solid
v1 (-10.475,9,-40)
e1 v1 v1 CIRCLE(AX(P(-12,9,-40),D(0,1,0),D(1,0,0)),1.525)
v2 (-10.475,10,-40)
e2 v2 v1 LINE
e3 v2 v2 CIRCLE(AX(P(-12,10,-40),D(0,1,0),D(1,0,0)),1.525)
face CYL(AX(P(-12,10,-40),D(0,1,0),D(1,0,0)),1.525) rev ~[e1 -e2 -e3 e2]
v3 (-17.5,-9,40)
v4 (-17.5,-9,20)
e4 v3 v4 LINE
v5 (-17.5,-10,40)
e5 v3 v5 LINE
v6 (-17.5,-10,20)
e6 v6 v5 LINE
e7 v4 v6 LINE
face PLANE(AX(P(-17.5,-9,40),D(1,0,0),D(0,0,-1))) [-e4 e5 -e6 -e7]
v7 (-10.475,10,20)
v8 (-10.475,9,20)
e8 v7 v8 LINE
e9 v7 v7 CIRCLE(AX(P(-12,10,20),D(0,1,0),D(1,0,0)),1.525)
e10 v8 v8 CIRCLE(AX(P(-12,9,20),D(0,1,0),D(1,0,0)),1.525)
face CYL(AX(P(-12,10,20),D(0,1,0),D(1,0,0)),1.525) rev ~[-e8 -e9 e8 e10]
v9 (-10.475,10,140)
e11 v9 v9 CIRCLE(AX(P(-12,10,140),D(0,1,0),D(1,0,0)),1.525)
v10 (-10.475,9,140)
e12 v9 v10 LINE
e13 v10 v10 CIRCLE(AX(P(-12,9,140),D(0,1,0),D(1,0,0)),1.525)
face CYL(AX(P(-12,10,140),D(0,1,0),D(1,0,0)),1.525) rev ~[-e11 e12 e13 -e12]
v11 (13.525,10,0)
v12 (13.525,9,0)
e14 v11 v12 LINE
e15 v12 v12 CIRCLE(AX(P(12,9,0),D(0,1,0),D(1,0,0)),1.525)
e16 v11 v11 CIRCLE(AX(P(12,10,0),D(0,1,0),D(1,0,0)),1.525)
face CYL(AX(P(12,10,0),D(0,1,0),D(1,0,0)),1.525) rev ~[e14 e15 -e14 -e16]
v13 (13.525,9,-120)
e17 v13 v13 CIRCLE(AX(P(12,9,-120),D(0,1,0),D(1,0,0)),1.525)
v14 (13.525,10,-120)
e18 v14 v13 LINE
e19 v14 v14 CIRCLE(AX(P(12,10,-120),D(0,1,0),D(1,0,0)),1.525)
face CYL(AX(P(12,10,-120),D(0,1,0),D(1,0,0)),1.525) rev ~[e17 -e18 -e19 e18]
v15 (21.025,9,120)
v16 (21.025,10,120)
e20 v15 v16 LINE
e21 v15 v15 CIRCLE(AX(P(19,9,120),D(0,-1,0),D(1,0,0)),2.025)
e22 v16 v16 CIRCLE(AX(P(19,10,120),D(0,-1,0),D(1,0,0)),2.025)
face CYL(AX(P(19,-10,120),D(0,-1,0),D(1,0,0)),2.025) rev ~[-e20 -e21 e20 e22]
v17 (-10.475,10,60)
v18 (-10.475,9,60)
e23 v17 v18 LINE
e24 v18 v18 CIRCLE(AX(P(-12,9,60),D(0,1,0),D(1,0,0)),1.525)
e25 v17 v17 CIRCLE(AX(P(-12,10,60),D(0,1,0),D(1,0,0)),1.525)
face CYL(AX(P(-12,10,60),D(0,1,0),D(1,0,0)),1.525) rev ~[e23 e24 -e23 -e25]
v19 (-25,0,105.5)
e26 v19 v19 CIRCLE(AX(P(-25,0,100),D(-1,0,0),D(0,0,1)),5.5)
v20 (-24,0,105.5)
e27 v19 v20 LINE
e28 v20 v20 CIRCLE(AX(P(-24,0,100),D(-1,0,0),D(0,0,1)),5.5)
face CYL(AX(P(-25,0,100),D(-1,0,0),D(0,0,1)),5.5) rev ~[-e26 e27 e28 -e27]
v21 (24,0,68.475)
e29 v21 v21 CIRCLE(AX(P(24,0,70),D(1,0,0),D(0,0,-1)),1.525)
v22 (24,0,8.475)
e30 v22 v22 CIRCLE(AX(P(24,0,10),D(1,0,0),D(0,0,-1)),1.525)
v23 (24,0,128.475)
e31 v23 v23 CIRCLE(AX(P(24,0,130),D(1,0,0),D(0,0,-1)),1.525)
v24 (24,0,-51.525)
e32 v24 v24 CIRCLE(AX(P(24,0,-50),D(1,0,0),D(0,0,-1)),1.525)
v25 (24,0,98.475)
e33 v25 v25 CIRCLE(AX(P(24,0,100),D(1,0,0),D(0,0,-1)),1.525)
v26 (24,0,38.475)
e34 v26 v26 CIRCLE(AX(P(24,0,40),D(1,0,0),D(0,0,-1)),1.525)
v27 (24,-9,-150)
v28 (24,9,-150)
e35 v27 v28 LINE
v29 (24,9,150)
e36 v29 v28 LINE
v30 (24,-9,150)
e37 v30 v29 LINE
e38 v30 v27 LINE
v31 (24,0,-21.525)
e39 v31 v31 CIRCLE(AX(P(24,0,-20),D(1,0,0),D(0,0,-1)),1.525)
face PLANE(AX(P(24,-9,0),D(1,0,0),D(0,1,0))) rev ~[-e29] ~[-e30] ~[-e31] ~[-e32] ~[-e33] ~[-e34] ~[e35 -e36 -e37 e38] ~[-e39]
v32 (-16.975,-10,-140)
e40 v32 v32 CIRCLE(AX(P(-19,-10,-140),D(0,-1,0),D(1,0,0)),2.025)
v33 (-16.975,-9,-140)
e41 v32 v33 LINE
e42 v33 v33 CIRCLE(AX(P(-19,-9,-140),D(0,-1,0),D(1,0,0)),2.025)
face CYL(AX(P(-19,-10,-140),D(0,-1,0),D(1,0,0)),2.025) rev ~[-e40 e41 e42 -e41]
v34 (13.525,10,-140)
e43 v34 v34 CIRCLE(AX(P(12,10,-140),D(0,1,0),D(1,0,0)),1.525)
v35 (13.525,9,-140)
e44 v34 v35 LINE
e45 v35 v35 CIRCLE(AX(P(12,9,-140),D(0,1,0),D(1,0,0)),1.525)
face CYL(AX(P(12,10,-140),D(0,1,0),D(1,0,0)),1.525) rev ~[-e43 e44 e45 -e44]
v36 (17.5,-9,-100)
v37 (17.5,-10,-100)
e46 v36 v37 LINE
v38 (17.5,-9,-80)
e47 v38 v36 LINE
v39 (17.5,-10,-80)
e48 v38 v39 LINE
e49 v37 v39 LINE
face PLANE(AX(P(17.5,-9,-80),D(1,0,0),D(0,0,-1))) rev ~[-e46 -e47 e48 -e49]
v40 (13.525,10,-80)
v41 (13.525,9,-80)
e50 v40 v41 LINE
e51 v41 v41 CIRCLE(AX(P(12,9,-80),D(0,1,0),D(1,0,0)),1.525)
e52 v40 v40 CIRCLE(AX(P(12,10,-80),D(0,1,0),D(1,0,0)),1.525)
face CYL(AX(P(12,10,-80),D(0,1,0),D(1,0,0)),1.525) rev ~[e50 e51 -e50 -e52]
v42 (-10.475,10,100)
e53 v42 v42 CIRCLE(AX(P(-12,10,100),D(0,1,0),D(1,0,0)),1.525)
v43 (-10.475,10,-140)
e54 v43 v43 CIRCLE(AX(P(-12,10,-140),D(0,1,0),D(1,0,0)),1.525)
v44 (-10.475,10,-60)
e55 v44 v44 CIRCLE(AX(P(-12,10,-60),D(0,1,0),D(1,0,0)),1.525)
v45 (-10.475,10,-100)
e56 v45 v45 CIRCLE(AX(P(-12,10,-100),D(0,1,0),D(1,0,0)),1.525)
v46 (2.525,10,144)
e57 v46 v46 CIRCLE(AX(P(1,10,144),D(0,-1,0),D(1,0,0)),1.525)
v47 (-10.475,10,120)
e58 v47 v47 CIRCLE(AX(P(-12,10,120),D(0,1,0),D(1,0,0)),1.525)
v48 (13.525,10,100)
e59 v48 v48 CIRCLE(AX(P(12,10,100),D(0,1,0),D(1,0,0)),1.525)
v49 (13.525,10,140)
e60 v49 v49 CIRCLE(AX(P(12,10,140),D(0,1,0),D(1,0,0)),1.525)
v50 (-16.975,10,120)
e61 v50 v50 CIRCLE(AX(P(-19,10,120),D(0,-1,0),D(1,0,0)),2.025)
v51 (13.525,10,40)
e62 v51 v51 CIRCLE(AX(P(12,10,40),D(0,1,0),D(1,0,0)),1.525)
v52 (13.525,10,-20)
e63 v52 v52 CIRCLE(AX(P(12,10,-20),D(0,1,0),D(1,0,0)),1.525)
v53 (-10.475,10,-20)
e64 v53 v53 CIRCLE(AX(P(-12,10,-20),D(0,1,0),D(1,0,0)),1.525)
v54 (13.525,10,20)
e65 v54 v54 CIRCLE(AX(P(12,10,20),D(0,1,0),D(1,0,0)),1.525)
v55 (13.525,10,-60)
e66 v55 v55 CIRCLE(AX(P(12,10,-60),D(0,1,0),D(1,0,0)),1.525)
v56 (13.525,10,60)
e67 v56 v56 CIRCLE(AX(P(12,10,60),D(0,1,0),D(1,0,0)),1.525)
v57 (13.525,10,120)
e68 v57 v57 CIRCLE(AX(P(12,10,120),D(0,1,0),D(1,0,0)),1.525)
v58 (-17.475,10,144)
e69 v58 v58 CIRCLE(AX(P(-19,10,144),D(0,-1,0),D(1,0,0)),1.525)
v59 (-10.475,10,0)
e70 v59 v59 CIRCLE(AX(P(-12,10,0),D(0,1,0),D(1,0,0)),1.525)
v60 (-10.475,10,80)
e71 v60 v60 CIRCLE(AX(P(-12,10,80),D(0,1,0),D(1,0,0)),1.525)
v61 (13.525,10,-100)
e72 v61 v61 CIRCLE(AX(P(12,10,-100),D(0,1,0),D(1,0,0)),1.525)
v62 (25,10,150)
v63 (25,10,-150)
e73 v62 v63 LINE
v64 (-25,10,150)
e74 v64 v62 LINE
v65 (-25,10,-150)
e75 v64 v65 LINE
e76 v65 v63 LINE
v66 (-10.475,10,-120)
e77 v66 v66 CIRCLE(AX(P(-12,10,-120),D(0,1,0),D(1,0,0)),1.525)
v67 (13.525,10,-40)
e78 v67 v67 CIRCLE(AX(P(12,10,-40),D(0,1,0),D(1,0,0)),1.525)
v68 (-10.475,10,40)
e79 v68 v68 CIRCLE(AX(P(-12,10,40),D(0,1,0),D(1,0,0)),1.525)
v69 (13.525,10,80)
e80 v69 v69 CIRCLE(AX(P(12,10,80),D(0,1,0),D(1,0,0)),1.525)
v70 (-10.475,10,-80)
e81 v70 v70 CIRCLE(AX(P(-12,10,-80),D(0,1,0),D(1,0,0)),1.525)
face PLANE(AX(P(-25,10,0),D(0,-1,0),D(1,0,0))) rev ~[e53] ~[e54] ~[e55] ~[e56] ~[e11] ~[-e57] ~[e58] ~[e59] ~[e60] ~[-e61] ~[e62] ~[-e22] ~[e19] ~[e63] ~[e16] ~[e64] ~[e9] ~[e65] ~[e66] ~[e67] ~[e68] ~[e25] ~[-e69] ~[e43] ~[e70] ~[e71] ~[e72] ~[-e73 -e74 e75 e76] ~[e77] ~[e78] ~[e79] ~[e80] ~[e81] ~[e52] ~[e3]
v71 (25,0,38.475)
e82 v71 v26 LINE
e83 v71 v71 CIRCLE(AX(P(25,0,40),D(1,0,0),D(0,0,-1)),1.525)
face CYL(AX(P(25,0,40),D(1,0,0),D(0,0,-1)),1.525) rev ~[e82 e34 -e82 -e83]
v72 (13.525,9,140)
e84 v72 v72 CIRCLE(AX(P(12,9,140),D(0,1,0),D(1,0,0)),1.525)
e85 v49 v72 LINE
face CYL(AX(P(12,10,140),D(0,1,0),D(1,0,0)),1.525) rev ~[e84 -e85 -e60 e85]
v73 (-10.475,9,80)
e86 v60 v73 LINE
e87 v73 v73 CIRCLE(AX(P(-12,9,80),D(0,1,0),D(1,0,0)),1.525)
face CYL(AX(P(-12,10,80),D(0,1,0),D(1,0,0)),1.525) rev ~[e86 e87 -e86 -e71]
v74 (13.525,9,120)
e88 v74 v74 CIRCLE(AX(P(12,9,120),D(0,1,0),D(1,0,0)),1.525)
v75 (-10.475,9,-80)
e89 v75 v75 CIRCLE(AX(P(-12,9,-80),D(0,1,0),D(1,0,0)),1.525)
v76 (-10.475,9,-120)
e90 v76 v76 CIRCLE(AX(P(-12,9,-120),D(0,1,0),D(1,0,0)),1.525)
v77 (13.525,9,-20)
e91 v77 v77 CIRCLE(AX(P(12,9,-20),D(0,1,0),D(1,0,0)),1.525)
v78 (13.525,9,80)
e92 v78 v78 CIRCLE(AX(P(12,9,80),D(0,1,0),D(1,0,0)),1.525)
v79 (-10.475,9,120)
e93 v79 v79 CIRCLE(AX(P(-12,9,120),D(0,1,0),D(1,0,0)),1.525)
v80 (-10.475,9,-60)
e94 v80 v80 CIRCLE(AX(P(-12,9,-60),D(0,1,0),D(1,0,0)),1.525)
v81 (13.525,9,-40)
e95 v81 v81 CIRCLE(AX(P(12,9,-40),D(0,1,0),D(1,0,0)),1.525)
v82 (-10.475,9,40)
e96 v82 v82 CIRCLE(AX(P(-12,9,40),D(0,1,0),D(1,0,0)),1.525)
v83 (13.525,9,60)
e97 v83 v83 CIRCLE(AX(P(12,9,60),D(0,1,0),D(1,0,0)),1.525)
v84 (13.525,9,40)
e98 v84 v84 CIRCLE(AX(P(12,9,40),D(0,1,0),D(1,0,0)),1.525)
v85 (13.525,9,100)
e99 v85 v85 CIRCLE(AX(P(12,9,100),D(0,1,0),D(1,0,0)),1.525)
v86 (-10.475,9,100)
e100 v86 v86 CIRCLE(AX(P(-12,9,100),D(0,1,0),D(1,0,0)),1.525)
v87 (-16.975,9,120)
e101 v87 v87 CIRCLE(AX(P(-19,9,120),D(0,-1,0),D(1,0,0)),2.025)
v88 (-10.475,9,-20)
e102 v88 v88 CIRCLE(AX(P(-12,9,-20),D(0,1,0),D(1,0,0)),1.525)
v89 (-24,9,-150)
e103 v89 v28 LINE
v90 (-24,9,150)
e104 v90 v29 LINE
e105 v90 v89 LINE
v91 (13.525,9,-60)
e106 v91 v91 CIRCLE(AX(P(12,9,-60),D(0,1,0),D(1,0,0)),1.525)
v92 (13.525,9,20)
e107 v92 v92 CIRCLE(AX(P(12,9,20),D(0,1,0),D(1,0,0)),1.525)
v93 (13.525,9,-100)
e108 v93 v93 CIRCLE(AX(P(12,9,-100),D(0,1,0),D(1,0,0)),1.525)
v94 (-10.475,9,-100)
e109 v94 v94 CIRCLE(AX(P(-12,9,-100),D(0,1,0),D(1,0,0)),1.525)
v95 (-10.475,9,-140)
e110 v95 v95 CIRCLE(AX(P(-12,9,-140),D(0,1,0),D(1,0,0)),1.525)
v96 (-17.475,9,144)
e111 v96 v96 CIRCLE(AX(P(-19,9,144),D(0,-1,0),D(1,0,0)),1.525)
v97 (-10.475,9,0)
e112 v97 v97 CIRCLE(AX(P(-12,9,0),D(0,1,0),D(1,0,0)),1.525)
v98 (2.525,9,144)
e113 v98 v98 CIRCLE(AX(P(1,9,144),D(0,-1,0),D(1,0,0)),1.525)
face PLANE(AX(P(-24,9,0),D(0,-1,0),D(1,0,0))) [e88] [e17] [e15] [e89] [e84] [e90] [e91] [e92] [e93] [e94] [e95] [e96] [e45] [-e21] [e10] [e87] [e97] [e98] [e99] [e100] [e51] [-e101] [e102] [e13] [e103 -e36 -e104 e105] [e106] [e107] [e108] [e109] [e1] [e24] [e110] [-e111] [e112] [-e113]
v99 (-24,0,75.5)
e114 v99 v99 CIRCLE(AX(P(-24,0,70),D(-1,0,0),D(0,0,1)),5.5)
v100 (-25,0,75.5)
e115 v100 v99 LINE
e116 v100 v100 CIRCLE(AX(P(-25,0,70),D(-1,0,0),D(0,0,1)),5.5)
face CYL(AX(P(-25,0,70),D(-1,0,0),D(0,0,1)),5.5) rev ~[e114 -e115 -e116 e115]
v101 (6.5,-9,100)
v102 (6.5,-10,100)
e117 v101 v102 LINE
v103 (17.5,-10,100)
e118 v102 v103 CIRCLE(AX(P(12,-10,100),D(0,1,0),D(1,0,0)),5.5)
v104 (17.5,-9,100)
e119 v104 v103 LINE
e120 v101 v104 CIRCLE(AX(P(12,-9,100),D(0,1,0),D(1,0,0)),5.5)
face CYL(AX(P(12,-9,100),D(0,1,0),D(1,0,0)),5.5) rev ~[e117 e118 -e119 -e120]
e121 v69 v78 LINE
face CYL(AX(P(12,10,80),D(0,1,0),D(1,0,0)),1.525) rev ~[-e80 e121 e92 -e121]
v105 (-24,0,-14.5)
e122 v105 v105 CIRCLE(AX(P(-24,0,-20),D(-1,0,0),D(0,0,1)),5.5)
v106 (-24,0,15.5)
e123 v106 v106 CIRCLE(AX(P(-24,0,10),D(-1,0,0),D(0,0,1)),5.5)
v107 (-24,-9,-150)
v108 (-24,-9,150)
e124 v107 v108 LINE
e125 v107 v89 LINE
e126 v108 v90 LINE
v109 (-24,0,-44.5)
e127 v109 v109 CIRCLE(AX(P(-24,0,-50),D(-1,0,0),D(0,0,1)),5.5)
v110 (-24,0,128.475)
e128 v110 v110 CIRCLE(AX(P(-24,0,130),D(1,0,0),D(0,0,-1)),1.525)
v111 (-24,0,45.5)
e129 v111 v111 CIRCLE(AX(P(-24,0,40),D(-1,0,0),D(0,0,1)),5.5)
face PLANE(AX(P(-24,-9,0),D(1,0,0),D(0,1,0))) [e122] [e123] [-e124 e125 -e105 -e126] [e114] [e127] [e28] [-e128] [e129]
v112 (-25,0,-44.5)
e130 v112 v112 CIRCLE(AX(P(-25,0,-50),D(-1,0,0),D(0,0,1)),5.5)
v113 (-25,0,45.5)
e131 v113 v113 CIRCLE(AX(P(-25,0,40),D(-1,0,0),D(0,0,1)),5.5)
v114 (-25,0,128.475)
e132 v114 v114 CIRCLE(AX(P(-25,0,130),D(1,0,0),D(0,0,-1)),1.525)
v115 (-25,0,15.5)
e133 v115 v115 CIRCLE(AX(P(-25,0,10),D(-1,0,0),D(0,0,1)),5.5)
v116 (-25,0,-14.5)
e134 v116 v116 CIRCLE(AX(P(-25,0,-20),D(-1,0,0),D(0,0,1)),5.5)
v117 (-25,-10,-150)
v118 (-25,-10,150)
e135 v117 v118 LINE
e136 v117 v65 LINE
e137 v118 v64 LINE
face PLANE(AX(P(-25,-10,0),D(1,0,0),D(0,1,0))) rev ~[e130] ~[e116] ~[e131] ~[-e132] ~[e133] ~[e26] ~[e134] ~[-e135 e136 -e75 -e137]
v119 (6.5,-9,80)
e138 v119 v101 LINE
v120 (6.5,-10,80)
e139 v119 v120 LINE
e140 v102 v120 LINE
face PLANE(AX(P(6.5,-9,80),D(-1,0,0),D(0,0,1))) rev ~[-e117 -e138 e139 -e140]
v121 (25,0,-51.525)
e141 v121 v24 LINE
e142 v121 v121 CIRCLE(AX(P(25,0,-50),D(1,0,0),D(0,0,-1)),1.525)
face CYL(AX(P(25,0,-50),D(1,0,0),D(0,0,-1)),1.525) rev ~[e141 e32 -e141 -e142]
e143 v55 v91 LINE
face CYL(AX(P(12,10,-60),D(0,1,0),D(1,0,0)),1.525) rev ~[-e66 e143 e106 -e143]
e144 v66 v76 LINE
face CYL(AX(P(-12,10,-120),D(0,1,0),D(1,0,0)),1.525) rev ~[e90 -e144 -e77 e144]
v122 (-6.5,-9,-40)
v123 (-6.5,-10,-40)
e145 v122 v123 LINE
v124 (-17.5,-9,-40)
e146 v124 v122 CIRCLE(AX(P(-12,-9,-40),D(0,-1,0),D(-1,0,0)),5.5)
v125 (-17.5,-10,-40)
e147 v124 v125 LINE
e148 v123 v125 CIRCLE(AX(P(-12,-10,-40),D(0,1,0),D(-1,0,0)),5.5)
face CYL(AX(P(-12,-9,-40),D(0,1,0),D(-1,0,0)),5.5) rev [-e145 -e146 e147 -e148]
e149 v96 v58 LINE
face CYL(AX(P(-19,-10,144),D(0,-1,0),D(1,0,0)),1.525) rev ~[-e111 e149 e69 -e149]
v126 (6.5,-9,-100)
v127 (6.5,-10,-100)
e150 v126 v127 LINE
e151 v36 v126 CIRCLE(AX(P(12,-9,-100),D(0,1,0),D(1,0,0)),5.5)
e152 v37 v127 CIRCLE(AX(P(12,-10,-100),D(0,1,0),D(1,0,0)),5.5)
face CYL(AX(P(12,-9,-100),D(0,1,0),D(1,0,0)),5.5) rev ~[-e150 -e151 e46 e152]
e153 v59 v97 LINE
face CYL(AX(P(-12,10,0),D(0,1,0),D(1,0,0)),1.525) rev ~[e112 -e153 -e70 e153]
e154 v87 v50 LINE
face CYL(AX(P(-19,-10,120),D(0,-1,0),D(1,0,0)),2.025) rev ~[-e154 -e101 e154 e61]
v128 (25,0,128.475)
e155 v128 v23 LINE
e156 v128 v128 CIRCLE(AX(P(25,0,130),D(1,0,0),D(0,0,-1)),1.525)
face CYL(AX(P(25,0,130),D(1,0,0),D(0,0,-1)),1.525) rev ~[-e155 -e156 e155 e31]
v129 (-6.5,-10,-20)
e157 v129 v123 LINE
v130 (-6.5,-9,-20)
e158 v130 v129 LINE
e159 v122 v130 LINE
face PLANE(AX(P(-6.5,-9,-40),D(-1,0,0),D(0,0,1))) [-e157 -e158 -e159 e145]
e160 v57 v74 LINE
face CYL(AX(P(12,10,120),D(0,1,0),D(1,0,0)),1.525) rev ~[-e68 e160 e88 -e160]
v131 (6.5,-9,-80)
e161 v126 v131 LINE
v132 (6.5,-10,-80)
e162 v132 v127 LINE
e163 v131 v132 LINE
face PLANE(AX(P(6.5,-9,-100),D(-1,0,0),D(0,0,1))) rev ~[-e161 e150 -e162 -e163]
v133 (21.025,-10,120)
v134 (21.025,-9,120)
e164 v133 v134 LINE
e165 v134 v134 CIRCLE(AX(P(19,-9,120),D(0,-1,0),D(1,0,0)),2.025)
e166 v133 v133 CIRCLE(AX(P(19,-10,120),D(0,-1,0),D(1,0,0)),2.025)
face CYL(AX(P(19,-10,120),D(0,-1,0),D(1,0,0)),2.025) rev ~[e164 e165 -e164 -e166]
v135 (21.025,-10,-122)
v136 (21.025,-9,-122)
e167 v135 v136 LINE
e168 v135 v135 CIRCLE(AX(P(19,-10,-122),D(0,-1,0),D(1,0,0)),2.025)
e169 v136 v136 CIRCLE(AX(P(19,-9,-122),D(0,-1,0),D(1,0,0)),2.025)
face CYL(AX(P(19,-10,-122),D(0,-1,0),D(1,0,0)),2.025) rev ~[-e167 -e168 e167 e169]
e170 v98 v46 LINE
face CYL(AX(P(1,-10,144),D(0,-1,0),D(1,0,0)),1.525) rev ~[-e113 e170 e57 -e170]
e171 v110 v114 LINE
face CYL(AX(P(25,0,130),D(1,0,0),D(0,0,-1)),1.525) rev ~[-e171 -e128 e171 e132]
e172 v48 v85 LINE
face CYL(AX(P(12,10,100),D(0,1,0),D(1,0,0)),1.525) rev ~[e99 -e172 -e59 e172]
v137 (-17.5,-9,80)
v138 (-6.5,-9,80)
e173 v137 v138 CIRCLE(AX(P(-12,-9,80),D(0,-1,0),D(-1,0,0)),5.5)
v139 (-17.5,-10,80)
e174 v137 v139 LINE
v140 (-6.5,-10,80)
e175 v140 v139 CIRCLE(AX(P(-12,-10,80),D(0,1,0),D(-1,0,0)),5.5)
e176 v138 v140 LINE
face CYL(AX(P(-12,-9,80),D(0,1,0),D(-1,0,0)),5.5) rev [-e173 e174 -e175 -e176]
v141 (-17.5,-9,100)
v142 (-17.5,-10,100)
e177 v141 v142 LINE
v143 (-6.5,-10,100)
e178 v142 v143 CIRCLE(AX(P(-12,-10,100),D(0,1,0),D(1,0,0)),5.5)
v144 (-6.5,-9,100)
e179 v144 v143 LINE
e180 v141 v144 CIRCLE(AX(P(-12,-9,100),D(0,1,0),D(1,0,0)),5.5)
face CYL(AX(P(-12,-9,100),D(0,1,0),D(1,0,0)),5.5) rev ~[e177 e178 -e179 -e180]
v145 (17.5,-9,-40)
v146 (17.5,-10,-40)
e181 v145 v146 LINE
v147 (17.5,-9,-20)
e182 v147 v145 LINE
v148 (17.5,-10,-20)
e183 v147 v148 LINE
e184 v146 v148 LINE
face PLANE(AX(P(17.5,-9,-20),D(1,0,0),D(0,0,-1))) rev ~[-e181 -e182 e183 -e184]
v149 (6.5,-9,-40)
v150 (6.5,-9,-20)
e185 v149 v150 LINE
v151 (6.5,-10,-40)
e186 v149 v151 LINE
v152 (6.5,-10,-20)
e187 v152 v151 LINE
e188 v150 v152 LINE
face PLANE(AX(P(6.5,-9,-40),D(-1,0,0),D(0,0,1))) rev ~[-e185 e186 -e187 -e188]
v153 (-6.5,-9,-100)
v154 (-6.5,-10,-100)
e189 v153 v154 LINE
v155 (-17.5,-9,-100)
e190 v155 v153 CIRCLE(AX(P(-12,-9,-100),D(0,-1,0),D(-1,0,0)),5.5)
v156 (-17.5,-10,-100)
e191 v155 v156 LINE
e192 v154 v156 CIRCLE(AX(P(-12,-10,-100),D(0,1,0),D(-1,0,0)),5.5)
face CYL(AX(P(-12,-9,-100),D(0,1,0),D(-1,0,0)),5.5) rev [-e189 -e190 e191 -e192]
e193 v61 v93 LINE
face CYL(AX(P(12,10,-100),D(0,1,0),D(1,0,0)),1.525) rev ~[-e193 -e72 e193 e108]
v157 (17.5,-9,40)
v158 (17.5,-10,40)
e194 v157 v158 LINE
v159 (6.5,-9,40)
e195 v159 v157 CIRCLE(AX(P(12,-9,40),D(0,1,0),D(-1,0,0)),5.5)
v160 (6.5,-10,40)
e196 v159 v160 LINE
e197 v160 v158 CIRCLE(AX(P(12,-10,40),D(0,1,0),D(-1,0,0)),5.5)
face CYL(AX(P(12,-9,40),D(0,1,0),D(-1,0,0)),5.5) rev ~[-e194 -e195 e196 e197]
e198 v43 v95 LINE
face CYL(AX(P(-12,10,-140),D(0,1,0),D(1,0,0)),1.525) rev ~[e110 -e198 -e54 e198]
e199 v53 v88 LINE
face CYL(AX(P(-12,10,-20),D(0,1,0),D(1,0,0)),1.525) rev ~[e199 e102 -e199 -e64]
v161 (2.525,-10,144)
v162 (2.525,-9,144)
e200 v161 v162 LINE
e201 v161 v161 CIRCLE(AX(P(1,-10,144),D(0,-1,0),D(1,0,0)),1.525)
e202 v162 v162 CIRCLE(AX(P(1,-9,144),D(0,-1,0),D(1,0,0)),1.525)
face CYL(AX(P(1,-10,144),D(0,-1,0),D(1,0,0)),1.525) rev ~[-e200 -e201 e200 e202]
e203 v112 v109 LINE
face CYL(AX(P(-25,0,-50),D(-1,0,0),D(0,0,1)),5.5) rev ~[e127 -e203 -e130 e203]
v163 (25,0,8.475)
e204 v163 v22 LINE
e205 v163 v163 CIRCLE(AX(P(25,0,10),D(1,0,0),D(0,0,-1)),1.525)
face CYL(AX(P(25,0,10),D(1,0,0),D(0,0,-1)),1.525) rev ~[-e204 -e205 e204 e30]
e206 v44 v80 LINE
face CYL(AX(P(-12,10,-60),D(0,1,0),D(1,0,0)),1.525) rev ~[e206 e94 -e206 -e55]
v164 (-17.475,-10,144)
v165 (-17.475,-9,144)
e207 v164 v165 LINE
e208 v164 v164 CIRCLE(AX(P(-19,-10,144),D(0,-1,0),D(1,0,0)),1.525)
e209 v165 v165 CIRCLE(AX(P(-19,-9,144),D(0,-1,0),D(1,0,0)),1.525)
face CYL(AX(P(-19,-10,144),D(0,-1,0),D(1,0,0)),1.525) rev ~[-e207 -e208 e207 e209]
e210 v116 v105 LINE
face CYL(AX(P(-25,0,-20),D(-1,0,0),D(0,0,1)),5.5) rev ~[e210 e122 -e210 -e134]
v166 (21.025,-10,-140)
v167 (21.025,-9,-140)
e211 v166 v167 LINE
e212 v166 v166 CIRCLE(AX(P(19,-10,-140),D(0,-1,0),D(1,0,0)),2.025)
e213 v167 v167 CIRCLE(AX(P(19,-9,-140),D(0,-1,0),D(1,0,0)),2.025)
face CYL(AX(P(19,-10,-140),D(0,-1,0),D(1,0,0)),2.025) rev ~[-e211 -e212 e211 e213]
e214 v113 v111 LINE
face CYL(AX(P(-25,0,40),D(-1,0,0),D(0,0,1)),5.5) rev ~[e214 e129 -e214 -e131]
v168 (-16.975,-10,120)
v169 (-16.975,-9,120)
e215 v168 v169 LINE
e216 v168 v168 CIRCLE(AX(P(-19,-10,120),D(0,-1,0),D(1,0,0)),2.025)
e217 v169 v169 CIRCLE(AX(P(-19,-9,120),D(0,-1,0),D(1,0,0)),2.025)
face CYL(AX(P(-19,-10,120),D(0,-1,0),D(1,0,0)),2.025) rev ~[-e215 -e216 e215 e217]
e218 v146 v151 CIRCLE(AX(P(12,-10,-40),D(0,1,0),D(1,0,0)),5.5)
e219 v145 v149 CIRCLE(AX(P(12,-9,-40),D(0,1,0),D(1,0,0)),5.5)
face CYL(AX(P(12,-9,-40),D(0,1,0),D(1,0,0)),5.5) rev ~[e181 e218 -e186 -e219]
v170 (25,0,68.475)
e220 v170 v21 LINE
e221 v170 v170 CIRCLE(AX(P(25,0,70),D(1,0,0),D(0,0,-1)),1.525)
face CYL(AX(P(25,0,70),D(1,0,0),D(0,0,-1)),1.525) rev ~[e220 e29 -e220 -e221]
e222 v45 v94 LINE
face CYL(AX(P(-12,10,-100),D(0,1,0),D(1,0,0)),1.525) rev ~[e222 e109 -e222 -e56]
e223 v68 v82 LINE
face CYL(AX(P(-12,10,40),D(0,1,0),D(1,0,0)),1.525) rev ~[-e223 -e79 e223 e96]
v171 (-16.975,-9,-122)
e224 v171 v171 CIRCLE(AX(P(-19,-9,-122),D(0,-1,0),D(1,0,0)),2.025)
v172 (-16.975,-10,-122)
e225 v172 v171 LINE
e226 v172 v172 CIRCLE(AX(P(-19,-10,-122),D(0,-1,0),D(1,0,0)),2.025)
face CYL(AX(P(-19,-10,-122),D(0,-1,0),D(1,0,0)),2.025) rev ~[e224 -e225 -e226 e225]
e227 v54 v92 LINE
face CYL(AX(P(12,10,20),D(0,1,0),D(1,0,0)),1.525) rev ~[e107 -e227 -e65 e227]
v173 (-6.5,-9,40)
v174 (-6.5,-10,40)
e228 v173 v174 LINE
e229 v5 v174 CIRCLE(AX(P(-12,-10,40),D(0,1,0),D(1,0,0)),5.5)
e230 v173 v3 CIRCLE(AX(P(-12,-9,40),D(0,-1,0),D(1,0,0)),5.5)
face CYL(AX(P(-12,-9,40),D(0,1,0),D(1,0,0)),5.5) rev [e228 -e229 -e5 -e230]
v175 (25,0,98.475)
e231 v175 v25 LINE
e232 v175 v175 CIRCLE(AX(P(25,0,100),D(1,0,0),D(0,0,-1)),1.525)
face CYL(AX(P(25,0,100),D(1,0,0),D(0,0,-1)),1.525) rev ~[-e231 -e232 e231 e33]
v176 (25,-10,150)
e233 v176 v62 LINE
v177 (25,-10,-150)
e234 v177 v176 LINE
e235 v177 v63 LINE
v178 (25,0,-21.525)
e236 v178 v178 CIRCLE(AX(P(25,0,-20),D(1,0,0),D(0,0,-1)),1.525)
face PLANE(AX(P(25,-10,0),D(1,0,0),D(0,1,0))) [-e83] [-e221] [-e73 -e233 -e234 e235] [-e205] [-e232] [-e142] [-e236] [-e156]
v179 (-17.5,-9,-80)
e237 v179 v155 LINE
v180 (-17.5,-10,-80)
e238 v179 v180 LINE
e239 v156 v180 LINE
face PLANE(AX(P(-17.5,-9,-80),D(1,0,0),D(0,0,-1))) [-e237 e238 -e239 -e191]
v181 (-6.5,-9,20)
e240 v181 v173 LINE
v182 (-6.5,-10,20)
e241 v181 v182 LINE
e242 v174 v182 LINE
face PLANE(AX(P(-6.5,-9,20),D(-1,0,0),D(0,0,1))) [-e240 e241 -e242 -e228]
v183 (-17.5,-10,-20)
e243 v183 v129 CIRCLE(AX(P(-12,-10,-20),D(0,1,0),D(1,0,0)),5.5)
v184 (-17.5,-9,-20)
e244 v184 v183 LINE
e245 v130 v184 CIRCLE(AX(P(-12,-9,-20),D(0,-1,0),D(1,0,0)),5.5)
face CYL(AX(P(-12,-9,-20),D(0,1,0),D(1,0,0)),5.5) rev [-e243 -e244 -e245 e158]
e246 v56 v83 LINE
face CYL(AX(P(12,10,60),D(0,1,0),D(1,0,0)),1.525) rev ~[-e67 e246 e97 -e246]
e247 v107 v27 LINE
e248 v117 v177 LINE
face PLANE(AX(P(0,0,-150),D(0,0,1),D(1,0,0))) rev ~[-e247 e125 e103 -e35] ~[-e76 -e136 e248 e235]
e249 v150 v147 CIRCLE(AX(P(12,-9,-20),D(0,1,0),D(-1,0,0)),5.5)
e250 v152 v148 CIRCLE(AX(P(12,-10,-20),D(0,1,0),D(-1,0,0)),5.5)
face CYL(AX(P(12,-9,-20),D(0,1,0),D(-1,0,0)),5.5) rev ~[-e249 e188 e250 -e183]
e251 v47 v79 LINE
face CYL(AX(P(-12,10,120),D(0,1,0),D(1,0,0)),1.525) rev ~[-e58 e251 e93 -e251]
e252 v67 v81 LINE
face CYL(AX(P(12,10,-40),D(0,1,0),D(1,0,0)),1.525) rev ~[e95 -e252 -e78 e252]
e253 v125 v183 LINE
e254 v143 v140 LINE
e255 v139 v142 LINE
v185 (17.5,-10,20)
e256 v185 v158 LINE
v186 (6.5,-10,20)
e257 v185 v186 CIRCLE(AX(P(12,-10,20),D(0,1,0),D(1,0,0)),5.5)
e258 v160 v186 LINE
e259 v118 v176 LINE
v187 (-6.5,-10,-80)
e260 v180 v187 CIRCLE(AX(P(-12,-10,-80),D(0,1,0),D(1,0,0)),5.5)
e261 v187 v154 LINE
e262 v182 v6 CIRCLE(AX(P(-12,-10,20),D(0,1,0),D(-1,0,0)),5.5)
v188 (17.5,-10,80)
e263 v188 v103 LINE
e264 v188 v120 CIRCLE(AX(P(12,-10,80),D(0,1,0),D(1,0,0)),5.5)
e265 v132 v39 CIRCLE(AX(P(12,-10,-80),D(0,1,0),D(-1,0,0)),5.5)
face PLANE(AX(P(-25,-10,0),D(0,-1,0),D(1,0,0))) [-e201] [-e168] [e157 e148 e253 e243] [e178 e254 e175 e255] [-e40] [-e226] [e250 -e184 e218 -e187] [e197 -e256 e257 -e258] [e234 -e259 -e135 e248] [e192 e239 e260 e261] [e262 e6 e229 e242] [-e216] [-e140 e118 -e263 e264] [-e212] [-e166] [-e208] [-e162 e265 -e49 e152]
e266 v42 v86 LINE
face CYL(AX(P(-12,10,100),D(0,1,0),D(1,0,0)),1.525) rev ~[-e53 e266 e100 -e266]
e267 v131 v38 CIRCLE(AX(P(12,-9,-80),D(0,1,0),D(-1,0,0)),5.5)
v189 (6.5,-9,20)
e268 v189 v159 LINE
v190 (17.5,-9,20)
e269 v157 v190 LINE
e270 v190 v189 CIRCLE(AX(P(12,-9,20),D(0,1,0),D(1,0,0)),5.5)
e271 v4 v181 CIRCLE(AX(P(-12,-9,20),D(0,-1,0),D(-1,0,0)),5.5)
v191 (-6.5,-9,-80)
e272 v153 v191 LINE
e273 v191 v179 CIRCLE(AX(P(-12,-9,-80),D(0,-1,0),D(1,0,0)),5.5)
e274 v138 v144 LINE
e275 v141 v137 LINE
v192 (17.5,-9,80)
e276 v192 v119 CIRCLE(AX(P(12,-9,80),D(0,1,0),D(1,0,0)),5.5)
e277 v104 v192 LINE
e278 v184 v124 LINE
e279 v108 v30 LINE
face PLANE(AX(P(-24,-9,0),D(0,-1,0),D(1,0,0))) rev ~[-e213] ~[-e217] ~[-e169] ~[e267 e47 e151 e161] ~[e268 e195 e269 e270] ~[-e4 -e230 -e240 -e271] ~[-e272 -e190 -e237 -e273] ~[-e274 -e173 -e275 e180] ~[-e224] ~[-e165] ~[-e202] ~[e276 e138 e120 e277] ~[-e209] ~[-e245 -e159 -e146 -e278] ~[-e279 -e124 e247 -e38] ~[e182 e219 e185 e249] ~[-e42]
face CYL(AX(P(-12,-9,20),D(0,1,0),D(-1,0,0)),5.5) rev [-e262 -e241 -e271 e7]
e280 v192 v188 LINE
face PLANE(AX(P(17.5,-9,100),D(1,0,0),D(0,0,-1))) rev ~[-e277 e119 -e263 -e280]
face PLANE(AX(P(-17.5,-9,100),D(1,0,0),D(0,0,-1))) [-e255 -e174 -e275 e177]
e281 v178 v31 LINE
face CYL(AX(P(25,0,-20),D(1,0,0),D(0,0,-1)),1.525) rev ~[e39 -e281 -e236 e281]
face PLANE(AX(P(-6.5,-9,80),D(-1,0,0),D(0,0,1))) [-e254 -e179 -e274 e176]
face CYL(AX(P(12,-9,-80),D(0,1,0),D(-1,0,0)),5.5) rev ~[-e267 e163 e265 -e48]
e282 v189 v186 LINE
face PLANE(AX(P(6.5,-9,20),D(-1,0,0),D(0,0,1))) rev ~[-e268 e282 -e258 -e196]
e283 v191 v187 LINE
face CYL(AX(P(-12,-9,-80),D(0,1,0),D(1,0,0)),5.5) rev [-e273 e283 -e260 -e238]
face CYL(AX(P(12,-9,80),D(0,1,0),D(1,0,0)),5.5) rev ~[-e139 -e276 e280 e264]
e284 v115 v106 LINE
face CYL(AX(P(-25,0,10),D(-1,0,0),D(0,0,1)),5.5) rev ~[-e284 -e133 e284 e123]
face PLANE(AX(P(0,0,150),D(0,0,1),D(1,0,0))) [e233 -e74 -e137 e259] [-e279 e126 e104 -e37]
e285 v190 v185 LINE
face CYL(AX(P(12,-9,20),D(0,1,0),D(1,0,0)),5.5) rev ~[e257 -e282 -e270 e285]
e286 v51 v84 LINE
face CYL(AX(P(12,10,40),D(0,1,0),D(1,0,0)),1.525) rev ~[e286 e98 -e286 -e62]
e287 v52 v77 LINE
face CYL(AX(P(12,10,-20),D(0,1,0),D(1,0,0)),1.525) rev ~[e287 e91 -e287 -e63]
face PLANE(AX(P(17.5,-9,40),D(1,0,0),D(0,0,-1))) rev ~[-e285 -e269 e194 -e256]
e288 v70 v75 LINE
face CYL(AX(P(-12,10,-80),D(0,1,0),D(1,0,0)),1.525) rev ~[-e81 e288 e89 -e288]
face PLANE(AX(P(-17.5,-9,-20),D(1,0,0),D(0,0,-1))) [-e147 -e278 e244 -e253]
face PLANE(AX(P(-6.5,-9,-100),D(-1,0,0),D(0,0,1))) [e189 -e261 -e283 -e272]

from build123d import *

# Parameters (mm, degrees)
SKETCH_1_W             = 50
SKETCH_1_H             = 20
SKETCH_1_W_2           = 48
SKETCH_1_H_2           = 18
EXTRUDE_1_DEPTH        = 150
SKETCH_2_R             = 1.525
CUT_EXTRUDE_1_DEPTH    = 10
PATTERN_LINEAR_1_COUNT = 15
PATTERN_LINEAR_1_PITCH = 20
SKETCH_3_R             = 1.525
CUT_EXTRUDE_2_DEPTH    = 100
SKETCH_4_R             = 1.525
CUT_EXTRUDE_3_DEPTH    = 100
SKETCH_5_R             = 2.025
CUT_EXTRUDE_4_DEPTH    = 39
SKETCH_7_R             = 5.5
CUT_EXTRUDE_6_DEPTH    = 10
CUT_EXTRUDE_7_DEPTH    = 10
PATTERN_LINEAR_2_COUNT = 4
PATTERN_LINEAR_2_PITCH = 60
SKETCH_9_R             = 5.5
CUT_EXTRUDE_8_DEPTH    = 10
PATTERN_LINEAR_3_COUNT = 6
PATTERN_LINEAR_3_PITCH = 30
SKETCH_10_R            = 2.025
CUT_EXTRUDE_9_DEPTH    = 10
SKETCH_11_R            = 2.025
CUT_EXTRUDE_10_DEPTH   = 8


with BuildPart() as part:
    # 草图1 → 凸台-拉伸1 (new body, symmetric)
    with BuildSketch(Plane.XY):
        Rectangle(SKETCH_1_W, SKETCH_1_H)
        Rectangle(SKETCH_1_W_2, SKETCH_1_H_2, mode=Mode.SUBTRACT)
    extrude(amount=EXTRUDE_1_DEPTH, both=True)

    # 草图2 → 切除-拉伸1 (cut)
    with BuildSketch(Plane(origin=(0, 10, 0), x_dir=(1, 0, 0), z_dir=(0, 1, 0))):
        with Locations((-12, -140)):
            Circle(SKETCH_2_R)
        with Locations((12, -140)):
            Circle(SKETCH_2_R)
    cut_extrude_1 = extrude(amount=-CUT_EXTRUDE_1_DEPTH, mode=Mode.SUBTRACT)

    # 阵列(线性)1: 切除-拉伸1 ×15
    with Locations(*[(0, 0, -i * PATTERN_LINEAR_1_PITCH) for i in range(1, PATTERN_LINEAR_1_COUNT)]):
        add(cut_extrude_1, mode=Mode.SUBTRACT)

    # 草图3 → 切除-拉伸2 (cut)
    with BuildSketch(Plane(origin=(25, 0, 0), x_dir=(0, 0, -1), z_dir=(1, 0, 0))):
        with Locations((50, 0)):
            Circle(SKETCH_3_R)
        with Locations((20, 0)):
            Circle(SKETCH_3_R)
        with Locations((-10, 0)):
            Circle(SKETCH_3_R)
        with Locations((-40, 0)):
            Circle(SKETCH_3_R)
        with Locations((-70, 0)):
            Circle(SKETCH_3_R)
        with Locations((-100, 0)):
            Circle(SKETCH_3_R)
        with Locations((-130, 0)):
            Circle(SKETCH_3_R)
    extrude(amount=-CUT_EXTRUDE_2_DEPTH, mode=Mode.SUBTRACT)

    # 草图4 → 切除-拉伸3 (cut)
    with BuildSketch(Plane.XZ.offset(10)):
        with Locations((-19, 144)):
            Circle(SKETCH_4_R)
        with Locations((1, 144)):
            Circle(SKETCH_4_R)
    extrude(amount=-CUT_EXTRUDE_3_DEPTH, mode=Mode.SUBTRACT)

    # 草图5 → 切除-拉伸4 (cut)
    with BuildSketch(Plane.XZ.offset(10)):
        with Locations((19, 120)):
            Circle(SKETCH_5_R)
        with Locations((-19, 120)):
            Circle(SKETCH_5_R)
    extrude(amount=-CUT_EXTRUDE_4_DEPTH, mode=Mode.SUBTRACT)

    # 草图7 → 切除-拉伸6 (cut)
    with BuildSketch(Plane(origin=(0, -9, 0), x_dir=(1, 0, 0), z_dir=(0, 1, 0))):
        with Locations((-12, -100)):
            Circle(SKETCH_7_R)
        with Locations((12, -100)):
            Circle(SKETCH_7_R)
    extrude(amount=-CUT_EXTRUDE_6_DEPTH, mode=Mode.SUBTRACT)

    # 草图6 → 切除-拉伸7 (cut)
    with BuildSketch(Plane(origin=(0, -9, 0), x_dir=(1, 0, 0), z_dir=(0, 1, 0))):
        with BuildLine():
            Line((-6.5, 100), (-6.5, 80))
            ThreePointArc((-6.5, 80), (-12, 74.5), (-17.5, 80))
            Line((-17.5, 80), (-17.5, 100))
            ThreePointArc((-17.5, 100), (-12, 105.5), (-6.5, 100))
        make_face()
        with BuildLine():
            Line((6.5, 100), (6.5, 80))
            ThreePointArc((6.5, 80), (12, 74.5), (17.5, 80))
            Line((17.5, 80), (17.5, 100))
            ThreePointArc((17.5, 100), (12, 105.5), (6.5, 100))
        make_face()
    cut_extrude_7 = extrude(amount=-CUT_EXTRUDE_7_DEPTH, mode=Mode.SUBTRACT)

    # 阵列(线性)2: 切除-拉伸7 ×4
    with Locations(*[(0, 0, i * PATTERN_LINEAR_2_PITCH) for i in range(1, PATTERN_LINEAR_2_COUNT)]):
        add(cut_extrude_7, mode=Mode.SUBTRACT)

    # 草图9 → 切除-拉伸8 (cut)
    with BuildSketch(Plane.ZY.offset(25)):
        with Locations((-50, 0)):
            Circle(SKETCH_9_R)
    cut_extrude_8 = extrude(amount=-CUT_EXTRUDE_8_DEPTH, mode=Mode.SUBTRACT)

    # 阵列(线性)3: 切除-拉伸8 ×6
    with Locations(*[(0, 0, i * PATTERN_LINEAR_3_PITCH) for i in range(1, PATTERN_LINEAR_3_COUNT)]):
        add(cut_extrude_8, mode=Mode.SUBTRACT)

    # 草图10 → 切除-拉伸9 (cut)
    with BuildSketch(Plane.XZ.offset(10)):
        with Locations((19, -140)):
            Circle(SKETCH_10_R)
        with Locations((-19, -140)):
            Circle(SKETCH_10_R)
    extrude(amount=-CUT_EXTRUDE_9_DEPTH, mode=Mode.SUBTRACT)

    # 草图11 → 切除-拉伸10 (cut)
    with BuildSketch(Plane.XZ.offset(10)):
        with Locations((-19, -122)):
            Circle(SKETCH_11_R)
        with Locations((19, -122)):
            Circle(SKETCH_11_R)
    extrude(amount=-CUT_EXTRUDE_10_DEPTH, mode=Mode.SUBTRACT)


solid = part.part
